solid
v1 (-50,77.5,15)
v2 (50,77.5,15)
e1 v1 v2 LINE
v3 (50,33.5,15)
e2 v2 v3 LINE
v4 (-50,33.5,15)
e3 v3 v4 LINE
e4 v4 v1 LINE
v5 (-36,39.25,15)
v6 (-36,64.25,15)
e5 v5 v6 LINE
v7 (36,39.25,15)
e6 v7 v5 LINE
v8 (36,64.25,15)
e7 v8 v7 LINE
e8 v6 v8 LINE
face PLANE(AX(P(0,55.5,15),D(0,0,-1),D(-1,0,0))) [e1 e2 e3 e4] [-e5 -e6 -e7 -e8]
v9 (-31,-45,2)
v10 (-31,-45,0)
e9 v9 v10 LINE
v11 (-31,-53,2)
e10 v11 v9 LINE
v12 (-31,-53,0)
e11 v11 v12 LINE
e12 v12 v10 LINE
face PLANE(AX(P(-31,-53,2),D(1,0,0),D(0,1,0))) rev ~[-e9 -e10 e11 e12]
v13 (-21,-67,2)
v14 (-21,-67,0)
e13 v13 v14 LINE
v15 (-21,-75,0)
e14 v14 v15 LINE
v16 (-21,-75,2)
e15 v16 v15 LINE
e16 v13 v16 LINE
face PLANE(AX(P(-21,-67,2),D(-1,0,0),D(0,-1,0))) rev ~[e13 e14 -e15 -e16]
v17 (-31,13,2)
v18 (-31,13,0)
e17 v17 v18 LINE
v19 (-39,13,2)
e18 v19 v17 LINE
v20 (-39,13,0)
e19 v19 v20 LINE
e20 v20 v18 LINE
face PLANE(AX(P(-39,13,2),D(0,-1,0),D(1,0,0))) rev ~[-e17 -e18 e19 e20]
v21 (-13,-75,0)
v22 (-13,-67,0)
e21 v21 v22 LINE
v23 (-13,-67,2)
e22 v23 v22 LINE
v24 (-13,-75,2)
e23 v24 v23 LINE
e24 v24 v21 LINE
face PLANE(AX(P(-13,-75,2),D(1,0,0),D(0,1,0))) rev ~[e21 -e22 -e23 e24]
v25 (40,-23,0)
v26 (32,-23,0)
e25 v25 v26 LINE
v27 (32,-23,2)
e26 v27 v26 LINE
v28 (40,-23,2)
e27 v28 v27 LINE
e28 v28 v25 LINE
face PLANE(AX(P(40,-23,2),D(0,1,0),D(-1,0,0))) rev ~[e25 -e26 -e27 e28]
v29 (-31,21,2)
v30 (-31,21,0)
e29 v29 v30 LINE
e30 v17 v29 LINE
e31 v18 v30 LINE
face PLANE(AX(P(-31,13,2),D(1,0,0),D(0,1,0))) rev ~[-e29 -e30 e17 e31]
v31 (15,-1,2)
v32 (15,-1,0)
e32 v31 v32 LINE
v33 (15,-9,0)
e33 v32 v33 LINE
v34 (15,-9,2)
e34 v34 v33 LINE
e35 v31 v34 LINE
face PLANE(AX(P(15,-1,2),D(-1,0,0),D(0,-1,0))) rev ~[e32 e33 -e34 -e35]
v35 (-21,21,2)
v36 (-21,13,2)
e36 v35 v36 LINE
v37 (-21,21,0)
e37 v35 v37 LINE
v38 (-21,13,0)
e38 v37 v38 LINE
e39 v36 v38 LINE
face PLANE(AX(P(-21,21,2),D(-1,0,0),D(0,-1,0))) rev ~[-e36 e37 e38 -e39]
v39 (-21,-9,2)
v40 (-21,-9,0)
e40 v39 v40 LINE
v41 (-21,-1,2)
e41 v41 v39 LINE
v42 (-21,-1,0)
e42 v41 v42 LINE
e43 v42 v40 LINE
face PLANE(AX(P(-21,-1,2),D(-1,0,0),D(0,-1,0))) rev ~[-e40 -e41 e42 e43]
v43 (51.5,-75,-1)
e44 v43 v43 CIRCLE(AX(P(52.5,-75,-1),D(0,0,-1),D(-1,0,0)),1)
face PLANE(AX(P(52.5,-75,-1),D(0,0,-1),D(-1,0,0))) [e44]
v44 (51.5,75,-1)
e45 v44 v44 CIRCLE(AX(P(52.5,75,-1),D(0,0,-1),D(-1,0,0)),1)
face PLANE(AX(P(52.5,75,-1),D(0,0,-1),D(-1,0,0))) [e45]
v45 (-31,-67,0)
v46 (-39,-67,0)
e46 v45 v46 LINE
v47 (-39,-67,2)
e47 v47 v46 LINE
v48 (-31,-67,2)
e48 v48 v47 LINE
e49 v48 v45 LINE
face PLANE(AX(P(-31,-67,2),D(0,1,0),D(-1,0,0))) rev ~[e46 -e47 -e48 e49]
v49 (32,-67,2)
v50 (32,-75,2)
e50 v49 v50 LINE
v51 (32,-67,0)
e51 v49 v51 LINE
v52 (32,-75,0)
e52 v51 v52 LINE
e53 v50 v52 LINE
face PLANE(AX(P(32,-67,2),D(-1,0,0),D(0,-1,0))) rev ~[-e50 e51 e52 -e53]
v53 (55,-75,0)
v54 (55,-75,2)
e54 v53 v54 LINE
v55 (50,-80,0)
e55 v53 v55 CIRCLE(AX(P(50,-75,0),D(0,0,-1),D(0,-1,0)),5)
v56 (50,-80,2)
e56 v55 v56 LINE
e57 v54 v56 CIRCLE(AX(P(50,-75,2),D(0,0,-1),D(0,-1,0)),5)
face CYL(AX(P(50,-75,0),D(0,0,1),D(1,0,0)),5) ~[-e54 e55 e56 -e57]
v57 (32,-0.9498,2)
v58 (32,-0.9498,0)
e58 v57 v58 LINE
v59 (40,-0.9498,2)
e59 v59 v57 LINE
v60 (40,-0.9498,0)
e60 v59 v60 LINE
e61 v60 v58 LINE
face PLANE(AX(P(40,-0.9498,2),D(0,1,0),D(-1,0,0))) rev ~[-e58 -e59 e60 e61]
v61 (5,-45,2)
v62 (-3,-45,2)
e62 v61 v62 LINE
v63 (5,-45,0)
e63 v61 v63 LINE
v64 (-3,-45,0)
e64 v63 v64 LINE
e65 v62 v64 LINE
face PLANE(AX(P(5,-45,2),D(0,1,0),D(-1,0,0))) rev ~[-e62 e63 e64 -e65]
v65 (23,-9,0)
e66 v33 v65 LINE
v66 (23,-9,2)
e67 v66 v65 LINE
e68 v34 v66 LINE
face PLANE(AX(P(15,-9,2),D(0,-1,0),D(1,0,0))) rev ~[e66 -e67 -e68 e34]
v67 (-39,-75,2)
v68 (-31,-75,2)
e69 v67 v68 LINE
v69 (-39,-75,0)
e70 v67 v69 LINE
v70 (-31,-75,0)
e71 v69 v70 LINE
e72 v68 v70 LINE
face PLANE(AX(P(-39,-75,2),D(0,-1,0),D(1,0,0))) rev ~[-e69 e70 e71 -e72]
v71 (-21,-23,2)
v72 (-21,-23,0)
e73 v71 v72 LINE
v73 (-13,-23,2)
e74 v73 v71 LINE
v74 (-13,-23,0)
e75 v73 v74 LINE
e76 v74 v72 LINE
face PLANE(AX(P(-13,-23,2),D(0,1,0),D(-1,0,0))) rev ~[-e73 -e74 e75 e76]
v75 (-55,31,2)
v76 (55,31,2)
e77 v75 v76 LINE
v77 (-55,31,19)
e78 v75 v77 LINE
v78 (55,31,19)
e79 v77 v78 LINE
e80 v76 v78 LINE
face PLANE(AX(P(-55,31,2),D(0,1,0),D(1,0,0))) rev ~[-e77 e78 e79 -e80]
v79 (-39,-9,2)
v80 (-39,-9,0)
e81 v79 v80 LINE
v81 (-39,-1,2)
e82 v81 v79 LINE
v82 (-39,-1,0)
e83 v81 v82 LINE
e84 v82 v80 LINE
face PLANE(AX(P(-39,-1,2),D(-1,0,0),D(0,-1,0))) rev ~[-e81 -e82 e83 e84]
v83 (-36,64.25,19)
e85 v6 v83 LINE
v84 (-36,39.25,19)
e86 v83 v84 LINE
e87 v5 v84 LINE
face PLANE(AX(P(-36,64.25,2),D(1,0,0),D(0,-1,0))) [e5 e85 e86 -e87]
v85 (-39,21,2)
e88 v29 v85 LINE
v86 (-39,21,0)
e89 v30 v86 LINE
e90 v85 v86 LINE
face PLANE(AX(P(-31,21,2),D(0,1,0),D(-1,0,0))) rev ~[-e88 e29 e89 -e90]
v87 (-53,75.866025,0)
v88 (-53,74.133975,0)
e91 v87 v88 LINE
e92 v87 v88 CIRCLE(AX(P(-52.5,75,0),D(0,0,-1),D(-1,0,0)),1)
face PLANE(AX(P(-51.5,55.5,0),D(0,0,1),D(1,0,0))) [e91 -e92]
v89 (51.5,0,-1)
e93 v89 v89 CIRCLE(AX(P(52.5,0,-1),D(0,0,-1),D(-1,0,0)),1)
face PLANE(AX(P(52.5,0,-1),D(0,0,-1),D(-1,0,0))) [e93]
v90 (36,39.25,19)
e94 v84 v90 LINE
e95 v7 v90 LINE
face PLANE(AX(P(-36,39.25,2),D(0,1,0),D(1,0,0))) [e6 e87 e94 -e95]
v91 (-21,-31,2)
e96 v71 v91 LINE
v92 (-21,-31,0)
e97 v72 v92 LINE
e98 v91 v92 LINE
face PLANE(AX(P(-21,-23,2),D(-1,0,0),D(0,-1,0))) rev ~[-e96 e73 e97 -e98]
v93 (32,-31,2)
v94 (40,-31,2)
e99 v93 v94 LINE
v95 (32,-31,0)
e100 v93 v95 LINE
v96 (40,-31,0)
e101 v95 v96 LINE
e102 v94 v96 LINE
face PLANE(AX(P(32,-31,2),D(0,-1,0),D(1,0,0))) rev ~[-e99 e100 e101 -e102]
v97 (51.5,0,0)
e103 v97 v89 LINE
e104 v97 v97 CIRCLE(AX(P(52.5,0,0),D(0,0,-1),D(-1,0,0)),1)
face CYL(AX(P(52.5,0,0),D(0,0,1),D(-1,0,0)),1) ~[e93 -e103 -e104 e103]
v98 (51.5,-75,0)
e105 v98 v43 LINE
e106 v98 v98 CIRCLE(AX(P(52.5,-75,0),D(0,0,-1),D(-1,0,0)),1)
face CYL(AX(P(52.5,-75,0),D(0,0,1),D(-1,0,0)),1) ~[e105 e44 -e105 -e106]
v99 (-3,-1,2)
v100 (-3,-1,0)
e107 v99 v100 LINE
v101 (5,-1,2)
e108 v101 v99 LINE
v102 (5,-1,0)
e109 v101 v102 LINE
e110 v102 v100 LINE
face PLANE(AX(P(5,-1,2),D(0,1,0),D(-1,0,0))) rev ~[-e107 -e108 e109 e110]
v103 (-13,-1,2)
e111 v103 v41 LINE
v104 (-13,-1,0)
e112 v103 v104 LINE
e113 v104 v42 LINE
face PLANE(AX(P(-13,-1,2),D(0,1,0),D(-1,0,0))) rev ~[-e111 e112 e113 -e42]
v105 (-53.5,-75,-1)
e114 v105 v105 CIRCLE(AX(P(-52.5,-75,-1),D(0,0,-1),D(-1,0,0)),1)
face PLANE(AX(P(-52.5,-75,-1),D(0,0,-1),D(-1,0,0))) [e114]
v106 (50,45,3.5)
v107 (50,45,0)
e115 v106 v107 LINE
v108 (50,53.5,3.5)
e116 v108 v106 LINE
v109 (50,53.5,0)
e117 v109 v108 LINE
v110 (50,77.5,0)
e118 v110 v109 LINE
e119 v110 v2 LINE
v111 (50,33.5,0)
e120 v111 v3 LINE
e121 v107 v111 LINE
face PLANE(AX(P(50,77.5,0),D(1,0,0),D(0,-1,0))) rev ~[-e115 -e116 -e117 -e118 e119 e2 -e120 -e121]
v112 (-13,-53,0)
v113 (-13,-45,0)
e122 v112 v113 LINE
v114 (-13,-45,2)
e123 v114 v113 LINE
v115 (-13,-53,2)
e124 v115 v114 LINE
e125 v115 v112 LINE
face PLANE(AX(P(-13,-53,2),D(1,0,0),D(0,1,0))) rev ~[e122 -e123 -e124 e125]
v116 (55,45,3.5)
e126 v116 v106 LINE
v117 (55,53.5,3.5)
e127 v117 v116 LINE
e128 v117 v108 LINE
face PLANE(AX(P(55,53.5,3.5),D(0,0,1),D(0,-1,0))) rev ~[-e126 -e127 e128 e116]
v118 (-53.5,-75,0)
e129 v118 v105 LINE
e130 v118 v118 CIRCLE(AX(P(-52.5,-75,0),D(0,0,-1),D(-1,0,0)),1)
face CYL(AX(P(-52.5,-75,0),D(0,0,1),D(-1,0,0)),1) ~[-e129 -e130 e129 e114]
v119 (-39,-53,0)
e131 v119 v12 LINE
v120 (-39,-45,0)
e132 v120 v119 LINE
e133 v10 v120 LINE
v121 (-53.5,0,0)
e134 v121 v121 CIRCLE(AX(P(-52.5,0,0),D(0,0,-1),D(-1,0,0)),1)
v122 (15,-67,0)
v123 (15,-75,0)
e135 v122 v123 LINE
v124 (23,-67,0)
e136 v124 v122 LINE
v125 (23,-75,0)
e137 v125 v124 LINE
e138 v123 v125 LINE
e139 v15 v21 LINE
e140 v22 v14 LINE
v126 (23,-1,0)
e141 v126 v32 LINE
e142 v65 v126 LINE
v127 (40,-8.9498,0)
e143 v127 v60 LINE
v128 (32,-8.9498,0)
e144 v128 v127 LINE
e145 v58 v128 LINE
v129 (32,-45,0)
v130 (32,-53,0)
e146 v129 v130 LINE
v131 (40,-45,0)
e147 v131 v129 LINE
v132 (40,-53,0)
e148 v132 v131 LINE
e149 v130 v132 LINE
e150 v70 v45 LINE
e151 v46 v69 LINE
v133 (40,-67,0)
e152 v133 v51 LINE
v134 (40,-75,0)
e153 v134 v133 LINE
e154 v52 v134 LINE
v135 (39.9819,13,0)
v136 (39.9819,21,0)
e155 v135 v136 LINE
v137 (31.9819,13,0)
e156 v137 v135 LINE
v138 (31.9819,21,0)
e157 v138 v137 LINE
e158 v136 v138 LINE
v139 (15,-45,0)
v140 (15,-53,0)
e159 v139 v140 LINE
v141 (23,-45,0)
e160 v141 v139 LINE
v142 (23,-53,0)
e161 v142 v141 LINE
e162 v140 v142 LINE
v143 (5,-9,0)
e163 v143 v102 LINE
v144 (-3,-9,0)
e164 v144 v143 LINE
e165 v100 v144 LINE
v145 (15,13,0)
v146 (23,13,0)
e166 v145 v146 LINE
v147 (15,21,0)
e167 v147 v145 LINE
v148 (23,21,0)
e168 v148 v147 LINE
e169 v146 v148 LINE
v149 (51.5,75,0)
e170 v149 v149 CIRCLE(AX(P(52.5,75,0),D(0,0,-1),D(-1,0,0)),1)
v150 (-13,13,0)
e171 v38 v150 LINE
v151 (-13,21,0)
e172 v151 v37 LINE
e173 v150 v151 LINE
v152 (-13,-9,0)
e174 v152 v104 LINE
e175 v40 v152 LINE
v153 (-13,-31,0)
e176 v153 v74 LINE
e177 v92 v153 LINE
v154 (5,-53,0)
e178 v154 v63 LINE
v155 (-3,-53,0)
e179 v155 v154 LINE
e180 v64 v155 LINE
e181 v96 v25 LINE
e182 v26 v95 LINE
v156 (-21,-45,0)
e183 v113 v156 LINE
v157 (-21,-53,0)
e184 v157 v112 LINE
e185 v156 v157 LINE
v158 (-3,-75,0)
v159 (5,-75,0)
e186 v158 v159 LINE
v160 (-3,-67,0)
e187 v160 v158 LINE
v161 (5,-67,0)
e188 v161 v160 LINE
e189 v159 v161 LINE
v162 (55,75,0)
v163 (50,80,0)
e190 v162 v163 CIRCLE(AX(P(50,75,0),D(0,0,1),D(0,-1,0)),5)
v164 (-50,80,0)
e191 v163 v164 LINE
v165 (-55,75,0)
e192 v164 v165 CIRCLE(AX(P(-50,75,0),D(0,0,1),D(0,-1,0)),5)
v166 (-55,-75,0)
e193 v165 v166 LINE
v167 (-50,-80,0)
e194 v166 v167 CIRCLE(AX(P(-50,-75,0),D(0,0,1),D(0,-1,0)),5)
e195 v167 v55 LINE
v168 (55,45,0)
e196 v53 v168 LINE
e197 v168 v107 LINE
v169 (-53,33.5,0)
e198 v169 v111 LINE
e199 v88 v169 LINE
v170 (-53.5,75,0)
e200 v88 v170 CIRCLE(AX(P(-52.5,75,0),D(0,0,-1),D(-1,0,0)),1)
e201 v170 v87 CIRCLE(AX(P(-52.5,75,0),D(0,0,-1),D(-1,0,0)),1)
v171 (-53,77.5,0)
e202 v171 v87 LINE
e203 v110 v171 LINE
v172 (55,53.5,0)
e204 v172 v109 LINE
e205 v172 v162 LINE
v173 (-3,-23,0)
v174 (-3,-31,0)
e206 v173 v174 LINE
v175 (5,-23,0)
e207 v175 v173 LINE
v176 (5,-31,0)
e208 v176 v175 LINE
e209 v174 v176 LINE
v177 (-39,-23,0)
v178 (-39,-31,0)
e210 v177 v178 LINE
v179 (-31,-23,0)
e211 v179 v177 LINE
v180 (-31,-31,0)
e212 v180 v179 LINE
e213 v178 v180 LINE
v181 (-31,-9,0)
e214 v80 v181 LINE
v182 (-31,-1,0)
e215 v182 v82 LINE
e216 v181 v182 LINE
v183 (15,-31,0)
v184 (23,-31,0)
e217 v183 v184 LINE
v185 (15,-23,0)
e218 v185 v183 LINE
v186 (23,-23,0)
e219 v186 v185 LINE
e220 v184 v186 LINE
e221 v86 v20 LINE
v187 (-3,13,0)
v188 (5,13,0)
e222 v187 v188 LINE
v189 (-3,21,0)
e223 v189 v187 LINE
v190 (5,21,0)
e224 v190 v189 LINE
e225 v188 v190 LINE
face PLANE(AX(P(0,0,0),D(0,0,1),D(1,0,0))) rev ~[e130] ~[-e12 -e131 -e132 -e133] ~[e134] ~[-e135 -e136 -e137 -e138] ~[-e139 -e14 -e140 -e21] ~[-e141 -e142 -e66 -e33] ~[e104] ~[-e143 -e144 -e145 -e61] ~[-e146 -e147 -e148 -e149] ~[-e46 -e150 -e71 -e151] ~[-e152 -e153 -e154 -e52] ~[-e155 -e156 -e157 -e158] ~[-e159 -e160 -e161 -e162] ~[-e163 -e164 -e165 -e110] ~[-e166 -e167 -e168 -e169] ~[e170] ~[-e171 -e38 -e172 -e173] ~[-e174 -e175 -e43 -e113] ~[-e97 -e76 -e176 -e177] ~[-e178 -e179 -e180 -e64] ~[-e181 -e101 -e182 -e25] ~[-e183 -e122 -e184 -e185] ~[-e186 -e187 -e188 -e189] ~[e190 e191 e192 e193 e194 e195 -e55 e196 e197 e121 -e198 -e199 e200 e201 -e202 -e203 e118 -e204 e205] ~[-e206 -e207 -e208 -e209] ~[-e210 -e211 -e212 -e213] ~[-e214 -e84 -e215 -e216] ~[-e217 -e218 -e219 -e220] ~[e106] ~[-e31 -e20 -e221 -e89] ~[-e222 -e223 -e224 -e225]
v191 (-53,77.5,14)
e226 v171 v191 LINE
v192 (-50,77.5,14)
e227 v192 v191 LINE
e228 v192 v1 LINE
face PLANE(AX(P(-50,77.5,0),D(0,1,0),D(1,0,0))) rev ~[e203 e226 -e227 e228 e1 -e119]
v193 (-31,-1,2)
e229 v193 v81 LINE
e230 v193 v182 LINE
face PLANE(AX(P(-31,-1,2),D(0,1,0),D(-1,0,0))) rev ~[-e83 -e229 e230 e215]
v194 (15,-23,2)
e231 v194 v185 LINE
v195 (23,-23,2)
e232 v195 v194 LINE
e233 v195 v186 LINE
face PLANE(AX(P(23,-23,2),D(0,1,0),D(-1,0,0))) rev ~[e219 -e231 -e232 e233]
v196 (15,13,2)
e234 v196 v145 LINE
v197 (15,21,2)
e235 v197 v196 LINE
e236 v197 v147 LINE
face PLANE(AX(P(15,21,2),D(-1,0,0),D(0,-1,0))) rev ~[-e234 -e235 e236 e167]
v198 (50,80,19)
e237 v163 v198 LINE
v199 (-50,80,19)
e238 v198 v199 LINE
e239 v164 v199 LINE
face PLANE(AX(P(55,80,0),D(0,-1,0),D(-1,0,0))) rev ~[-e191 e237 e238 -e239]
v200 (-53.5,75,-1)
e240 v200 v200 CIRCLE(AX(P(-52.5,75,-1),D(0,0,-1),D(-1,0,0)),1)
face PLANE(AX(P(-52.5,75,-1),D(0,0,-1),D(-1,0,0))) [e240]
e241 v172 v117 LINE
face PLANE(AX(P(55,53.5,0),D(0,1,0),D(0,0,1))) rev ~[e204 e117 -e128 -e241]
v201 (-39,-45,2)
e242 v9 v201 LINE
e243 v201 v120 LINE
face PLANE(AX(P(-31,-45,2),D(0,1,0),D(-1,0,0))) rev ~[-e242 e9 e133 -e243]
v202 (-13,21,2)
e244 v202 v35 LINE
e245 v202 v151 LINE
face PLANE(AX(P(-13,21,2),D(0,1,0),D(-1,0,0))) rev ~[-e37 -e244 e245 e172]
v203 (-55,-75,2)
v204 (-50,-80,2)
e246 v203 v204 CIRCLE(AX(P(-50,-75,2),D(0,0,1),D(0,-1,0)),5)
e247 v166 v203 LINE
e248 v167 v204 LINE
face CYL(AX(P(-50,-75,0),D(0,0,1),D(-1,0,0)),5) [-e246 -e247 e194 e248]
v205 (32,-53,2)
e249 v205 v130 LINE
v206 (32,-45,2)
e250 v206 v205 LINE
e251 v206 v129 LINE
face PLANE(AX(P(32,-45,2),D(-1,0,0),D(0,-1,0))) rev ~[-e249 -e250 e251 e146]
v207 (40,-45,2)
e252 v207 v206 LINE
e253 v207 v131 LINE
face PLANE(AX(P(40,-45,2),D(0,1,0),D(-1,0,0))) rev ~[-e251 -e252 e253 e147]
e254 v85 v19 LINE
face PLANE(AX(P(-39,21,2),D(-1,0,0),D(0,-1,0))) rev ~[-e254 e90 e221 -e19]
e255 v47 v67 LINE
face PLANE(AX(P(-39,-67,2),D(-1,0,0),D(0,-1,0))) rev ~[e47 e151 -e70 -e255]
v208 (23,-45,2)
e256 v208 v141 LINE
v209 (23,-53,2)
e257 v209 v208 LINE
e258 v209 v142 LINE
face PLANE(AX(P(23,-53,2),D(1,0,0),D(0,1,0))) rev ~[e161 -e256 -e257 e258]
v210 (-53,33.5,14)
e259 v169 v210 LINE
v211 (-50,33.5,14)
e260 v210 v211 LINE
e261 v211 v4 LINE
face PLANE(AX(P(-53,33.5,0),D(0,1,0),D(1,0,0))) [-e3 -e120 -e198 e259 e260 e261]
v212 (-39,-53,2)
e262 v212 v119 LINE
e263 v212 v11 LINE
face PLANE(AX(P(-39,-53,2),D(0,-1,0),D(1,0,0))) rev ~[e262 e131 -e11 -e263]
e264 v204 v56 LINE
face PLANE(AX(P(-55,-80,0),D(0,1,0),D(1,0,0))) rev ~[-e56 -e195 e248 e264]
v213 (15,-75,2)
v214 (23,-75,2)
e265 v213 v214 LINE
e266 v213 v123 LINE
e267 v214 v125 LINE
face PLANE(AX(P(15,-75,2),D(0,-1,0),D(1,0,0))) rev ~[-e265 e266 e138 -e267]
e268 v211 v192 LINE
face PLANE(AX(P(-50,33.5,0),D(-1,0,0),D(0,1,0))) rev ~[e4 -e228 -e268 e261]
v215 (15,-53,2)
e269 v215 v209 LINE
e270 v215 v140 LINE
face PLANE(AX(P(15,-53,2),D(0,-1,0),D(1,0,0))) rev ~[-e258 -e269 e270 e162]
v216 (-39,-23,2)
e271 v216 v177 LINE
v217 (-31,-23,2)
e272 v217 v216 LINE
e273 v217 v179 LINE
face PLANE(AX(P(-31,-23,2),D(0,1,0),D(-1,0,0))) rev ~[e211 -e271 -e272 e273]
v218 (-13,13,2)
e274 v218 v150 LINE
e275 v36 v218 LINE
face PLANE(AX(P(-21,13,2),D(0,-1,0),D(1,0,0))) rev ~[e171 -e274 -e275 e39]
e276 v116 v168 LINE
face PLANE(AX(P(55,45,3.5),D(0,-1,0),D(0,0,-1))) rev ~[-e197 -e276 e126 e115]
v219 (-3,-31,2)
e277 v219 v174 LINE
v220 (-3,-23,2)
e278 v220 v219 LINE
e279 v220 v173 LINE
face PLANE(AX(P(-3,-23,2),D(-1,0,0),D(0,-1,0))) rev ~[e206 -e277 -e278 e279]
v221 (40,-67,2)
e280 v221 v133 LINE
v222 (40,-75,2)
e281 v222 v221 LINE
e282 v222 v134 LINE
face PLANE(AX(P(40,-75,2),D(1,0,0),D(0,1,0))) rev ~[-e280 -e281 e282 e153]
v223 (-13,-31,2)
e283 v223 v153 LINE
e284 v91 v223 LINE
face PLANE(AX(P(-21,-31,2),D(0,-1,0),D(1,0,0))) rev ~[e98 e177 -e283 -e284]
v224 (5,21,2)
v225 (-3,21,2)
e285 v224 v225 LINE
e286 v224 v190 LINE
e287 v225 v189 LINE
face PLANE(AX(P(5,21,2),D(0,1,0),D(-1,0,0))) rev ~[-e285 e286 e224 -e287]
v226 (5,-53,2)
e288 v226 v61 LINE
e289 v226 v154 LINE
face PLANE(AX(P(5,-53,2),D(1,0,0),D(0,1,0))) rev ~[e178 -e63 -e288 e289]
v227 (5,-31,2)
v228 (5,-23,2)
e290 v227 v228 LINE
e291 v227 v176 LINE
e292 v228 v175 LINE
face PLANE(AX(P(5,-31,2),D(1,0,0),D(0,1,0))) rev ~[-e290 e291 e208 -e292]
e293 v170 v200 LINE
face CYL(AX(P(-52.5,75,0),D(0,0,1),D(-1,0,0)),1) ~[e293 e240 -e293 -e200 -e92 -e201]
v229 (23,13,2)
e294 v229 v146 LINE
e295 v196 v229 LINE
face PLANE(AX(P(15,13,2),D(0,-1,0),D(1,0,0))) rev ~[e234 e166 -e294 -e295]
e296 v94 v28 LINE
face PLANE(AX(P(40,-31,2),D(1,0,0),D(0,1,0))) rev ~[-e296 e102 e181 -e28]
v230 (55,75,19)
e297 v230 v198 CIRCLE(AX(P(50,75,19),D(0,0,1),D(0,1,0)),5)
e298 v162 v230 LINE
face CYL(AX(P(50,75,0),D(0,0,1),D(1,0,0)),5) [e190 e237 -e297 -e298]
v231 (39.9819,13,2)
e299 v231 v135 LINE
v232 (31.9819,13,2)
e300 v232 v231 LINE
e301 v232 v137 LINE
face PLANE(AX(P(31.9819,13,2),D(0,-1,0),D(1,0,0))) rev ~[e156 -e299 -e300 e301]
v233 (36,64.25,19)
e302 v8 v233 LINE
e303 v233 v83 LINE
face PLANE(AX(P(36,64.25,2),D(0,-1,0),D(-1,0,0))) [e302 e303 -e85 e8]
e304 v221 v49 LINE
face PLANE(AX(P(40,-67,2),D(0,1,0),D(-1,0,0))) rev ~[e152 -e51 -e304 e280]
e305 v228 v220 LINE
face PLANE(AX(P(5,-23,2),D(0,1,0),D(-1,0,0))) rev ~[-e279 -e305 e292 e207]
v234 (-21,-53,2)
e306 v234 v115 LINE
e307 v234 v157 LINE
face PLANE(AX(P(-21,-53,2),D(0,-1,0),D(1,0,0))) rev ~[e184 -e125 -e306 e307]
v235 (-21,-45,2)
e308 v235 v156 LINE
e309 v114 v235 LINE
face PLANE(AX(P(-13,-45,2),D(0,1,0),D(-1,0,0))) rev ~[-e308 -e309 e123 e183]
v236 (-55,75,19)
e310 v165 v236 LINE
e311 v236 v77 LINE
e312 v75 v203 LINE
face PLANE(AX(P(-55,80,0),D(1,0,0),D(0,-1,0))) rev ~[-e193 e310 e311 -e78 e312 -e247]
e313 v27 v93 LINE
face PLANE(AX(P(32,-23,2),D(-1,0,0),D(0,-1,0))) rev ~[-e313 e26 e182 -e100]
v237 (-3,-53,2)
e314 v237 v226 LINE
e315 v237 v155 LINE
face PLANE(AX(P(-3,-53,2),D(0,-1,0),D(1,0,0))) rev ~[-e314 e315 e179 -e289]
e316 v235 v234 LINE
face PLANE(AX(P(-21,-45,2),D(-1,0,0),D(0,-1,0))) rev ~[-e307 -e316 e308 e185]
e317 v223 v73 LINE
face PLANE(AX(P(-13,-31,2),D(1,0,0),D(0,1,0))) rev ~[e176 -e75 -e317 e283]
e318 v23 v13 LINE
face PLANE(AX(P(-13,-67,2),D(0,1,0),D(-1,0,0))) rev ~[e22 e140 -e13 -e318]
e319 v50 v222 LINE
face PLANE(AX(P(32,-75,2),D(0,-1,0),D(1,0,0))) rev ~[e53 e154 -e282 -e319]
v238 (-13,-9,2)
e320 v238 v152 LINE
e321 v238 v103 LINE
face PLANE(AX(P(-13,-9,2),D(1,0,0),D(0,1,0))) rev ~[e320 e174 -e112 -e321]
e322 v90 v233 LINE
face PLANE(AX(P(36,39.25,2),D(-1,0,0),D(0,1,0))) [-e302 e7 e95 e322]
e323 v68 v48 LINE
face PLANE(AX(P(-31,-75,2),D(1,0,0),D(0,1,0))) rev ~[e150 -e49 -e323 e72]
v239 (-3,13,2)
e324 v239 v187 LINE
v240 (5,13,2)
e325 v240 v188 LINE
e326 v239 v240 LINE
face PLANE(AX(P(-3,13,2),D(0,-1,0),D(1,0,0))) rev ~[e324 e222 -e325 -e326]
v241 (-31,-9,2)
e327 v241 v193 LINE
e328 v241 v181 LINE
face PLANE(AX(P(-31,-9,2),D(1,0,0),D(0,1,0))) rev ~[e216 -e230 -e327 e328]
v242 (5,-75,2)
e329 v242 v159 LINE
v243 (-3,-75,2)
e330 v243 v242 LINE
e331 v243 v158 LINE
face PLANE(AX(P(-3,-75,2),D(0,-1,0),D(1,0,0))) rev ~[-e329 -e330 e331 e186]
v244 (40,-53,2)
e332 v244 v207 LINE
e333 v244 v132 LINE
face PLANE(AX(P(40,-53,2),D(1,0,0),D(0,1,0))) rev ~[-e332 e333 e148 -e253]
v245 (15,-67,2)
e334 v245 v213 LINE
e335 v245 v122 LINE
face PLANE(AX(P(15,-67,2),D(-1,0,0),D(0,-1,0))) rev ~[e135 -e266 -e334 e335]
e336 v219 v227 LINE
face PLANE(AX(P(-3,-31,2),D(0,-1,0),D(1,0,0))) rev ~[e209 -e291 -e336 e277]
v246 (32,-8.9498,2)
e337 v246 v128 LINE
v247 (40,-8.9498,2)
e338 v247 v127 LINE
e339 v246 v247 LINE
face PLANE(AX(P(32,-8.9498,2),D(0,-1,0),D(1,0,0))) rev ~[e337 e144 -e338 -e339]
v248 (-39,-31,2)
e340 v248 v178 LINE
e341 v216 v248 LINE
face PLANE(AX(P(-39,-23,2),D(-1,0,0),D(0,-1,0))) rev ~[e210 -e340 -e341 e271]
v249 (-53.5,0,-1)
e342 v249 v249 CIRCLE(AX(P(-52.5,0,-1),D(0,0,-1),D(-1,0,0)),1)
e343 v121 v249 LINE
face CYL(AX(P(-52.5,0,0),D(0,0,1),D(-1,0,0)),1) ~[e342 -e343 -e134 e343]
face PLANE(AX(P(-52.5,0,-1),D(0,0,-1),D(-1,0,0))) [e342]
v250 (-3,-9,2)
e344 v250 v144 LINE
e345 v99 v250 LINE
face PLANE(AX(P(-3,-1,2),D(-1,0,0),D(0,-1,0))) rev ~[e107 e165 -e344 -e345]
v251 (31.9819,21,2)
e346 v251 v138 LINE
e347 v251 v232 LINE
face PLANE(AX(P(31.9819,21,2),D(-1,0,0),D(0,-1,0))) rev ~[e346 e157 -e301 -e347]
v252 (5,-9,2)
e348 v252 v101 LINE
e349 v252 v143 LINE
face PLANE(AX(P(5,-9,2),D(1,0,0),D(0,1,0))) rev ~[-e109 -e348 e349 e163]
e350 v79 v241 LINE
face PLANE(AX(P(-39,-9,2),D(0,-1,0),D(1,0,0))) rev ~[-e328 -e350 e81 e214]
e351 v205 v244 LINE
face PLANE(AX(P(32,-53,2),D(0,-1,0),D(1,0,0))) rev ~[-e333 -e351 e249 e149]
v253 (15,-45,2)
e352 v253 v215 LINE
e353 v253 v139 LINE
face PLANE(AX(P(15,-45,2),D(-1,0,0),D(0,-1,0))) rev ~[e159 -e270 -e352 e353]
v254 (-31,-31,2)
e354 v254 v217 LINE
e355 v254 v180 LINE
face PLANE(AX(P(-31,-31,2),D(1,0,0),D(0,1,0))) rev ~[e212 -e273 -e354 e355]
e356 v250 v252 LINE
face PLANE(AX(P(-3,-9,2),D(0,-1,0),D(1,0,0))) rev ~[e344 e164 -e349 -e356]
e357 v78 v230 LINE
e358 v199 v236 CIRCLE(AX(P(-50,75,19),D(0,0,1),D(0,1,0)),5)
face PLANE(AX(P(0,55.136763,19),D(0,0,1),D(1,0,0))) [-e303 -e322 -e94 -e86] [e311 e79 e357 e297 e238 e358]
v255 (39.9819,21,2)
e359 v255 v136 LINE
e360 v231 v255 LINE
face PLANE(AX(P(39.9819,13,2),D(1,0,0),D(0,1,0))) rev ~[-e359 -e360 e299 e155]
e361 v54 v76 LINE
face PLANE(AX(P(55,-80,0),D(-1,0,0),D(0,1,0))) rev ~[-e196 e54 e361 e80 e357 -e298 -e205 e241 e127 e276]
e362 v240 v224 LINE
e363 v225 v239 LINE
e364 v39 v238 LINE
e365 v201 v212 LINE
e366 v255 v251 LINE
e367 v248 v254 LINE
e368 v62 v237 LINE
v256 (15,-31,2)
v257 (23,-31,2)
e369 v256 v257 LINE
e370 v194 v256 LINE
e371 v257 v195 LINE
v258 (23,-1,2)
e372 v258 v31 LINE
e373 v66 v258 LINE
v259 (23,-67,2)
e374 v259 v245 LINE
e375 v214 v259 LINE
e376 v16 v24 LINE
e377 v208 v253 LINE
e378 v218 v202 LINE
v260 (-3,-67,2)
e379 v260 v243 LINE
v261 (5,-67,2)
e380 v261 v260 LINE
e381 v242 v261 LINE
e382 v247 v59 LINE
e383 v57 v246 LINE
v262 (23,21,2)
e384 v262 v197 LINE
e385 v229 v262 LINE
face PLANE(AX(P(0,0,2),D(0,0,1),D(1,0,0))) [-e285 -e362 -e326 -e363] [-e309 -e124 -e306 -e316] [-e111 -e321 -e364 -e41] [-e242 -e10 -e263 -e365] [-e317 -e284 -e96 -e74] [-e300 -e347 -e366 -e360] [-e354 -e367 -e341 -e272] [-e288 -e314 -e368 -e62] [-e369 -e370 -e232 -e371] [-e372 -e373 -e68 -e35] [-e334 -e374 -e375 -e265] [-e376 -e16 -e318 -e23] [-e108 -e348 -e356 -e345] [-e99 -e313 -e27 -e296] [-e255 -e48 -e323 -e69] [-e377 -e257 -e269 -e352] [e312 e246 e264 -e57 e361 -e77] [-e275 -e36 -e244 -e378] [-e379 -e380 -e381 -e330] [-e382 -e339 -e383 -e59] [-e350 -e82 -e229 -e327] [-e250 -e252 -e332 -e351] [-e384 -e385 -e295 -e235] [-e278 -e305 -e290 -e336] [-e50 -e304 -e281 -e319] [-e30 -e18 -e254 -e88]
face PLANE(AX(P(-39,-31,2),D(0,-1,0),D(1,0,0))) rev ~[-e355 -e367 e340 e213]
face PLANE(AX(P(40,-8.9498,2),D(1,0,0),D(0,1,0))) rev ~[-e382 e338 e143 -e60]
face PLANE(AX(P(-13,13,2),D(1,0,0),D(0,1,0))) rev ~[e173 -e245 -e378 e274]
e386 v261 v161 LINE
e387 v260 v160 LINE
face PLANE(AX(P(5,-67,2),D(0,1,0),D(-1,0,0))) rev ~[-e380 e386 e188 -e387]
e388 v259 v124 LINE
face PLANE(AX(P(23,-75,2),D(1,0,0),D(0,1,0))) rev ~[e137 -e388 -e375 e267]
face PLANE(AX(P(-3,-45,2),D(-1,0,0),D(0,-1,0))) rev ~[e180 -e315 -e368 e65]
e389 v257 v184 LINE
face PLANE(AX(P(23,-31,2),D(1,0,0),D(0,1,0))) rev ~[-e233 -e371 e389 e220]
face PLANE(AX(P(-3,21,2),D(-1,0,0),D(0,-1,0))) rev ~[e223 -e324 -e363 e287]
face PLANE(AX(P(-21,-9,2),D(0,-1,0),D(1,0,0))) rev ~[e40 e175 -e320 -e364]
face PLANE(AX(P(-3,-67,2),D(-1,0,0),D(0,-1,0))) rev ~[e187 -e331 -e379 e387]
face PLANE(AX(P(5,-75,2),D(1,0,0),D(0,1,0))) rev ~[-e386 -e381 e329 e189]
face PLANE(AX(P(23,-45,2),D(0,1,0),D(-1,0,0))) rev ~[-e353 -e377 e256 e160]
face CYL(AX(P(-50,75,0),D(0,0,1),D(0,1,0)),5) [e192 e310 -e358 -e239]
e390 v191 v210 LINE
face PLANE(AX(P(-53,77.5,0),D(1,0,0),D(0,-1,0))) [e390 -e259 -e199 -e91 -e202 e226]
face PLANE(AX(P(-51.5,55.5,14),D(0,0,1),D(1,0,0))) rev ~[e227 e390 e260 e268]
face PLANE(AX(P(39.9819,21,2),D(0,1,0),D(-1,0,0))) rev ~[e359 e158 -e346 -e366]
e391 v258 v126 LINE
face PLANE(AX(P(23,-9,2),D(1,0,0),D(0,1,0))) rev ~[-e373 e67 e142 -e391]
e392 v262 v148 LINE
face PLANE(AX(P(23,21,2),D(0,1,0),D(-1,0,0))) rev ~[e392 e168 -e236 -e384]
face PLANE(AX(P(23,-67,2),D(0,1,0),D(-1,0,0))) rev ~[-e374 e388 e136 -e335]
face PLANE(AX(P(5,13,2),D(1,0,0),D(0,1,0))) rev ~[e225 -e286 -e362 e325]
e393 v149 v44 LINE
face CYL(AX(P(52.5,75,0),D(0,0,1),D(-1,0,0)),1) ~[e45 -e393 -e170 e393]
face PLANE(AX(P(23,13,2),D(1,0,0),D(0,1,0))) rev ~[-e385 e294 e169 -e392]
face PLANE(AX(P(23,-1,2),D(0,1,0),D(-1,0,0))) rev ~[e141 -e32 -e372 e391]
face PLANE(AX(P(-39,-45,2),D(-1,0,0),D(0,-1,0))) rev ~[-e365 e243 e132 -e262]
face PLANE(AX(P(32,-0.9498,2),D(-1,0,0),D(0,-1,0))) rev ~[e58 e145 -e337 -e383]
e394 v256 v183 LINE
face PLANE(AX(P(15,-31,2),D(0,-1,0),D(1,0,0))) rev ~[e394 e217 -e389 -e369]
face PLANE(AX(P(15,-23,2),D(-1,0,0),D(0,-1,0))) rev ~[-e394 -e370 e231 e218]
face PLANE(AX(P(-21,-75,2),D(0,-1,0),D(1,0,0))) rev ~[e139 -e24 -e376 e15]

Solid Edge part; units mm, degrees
sketch "Sketch1" plane through (0, 0, 0) normal (0, 0, 1) x (1, 0, 0)
  line L0 (55, -80) -> (55, 80)
  line L1 (55, 80) -> (-55, 80)
  line L2 (-55, 80) -> (-55, -80)
  line L3 (-55, -80) -> (55, -80)
extrude "ExtrudedProtrusion_1" add sketch "Sketch1" along normal blind 2
fillet "Round_1" radius 5 4 edges at (55, -80, 1) (55, 80, 1) (-55, -80, 1) (-55, 80, 1)
sketch "Sketch2" plane through (0, 0, 2) normal (0, 0, 1) x (0, 1, 0)
  line L0 (64.25, 36) -> (39.25, 36)
  line L1 (39.25, 36) -> (39.25, -36)
  line L2 (39.25, -36) -> (64.25, -36)
  line L3 (64.25, -36) -> (64.25, 36)
  line L4 (75, 55) -> (31, 55)
  line L5 (31, 55) -> (31, -55)
  line L6 (31, -55) -> (75, -55)
  arc A0 (75, -55) -> (80, -50) centre (75, -50) ccw
  line L7 (80, -50) -> (80, 50)
  arc A1 (80, 50) -> (75, 55) centre (75, 50) ccw
extrude "ExtrudedProtrusion_2" add sketch "Sketch2" along normal blind 17
sketch "Sketch3" plane through (0, 0, 0) normal (0, 0, -1) x (-1, 0, 0)
  line L0 (50, 77.5) -> (-50, 77.5)
  line L1 (-50, 77.5) -> (-50, 33.5)
  line L2 (-50, 33.5) -> (50, 33.5)
  line L3 (50, 33.5) -> (50, 77.5)
extrude "ExtrudedCutout_1" cut sketch "Sketch3" against normal blind 15
sketch "Sketch4" plane through (0, -24.5, 2) normal (0, 0, 1) x (1, 0, 0)
  line L0 (-31, 37.5) -> (-31, 45.5)
  line L1 (-31, 45.5) -> (-39, 45.5)
  line L2 (-39, 45.5) -> (-39, 37.5)
  line L3 (-39, 37.5) -> (-31, 37.5)
  line L4 (-13, 45.5) -> (-21, 45.5)
  line L5 (-21, 45.5) -> (-21, 37.5)
  line L6 (-21, 37.5) -> (-13, 37.5)
  line L7 (-13, 37.5) -> (-13, 45.5)
  line L8 (5, 45.5) -> (-3, 45.5)
  line L9 (-3, 45.5) -> (-3, 37.5)
  line L10 (-3, 37.5) -> (5, 37.5)
  line L11 (5, 37.5) -> (5, 45.5)
  line L12 (23, 45.5) -> (15, 45.5)
  line L13 (15, 45.5) -> (15, 37.5)
  line L14 (15, 37.5) -> (23, 37.5)
  line L15 (23, 37.5) -> (23, 45.5)
  line L16 (39.9819, 45.5) -> (31.9819, 45.5)
  line L17 (31.9819, 45.5) -> (31.9819, 37.5)
  line L18 (31.9819, 37.5) -> (39.9819, 37.5)
  line L19 (39.9819, 37.5) -> (39.9819, 45.5)
  line L20 (40, 23.5502) -> (32, 23.5502)
  line L21 (32, 23.5502) -> (32, 15.5502)
  line L22 (32, 15.5502) -> (40, 15.5502)
  line L23 (40, 15.5502) -> (40, 23.5502)
  line L24 (23, 23.5) -> (15, 23.5)
  line L25 (15, 23.5) -> (15, 15.5)
  line L26 (15, 15.5) -> (23, 15.5)
  line L27 (23, 15.5) -> (23, 23.5)
  line L28 (5, 23.5) -> (-3, 23.5)
  line L29 (-3, 23.5) -> (-3, 15.5)
  line L30 (-3, 15.5) -> (5, 15.5)
  line L31 (5, 15.5) -> (5, 23.5)
  line L32 (-13, 23.5) -> (-21, 23.5)
  line L33 (-21, 23.5) -> (-21, 15.5)
  line L34 (-21, 15.5) -> (-13, 15.5)
  line L35 (-13, 15.5) -> (-13, 23.5)
  line L36 (-31, 23.5) -> (-39, 23.5)
  line L37 (-39, 23.5) -> (-39, 15.5)
  line L38 (-39, 15.5) -> (-31, 15.5)
  line L39 (-31, 15.5) -> (-31, 23.5)
  line L40 (-31, 1.5) -> (-39, 1.5)
  line L41 (-39, 1.5) -> (-39, -6.5)
  line L42 (-39, -6.5) -> (-31, -6.5)
  line L43 (-31, -6.5) -> (-31, 1.5)
  line L44 (-13, 1.5) -> (-21, 1.5)
  line L45 (-21, 1.5) -> (-21, -6.5)
  line L46 (-21, -6.5) -> (-13, -6.5)
  line L47 (-13, -6.5) -> (-13, 1.5)
  line L48 (5, 1.5) -> (-3, 1.5)
  line L49 (-3, 1.5) -> (-3, -6.5)
  line L50 (-3, -6.5) -> (5, -6.5)
  line L51 (5, -6.5) -> (5, 1.5)
  line L52 (23, 1.5) -> (15, 1.5)
  line L53 (15, 1.5) -> (15, -6.5)
  line L54 (15, -6.5) -> (23, -6.5)
  line L55 (23, -6.5) -> (23, 1.5)
  line L56 (40, 1.5) -> (32, 1.5)
  line L57 (32, 1.5) -> (32, -6.5)
  line L58 (32, -6.5) -> (40, -6.5)
  line L59 (40, -6.5) -> (40, 1.5)
  line L60 (40, -20.5) -> (32, -20.5)
  line L61 (32, -20.5) -> (32, -28.5)
  line L62 (32, -28.5) -> (40, -28.5)
  line L63 (40, -28.5) -> (40, -20.5)
  line L64 (23, -20.5) -> (15, -20.5)
  line L65 (15, -20.5) -> (15, -28.5)
  line L66 (15, -28.5) -> (23, -28.5)
  line L67 (23, -28.5) -> (23, -20.5)
  line L68 (5, -28.5) -> (5, -20.5)
  line L69 (5, -20.5) -> (-3, -20.5)
  line L70 (-3, -20.5) -> (-3, -28.5)
  line L71 (-3, -28.5) -> (5, -28.5)
  line L72 (-13, -28.5) -> (-13, -20.5)
  line L73 (-13, -20.5) -> (-21, -20.5)
  line L74 (-21, -20.5) -> (-21, -28.5)
  line L75 (-21, -28.5) -> (-13, -28.5)
  line L76 (-31, -20.5) -> (-39, -20.5)
  line L77 (-39, -20.5) -> (-39, -28.5)
  line L78 (-39, -28.5) -> (-31, -28.5)
  line L79 (-31, -28.5) -> (-31, -20.5)
  line L80 (-31, -42.5) -> (-39, -42.5)
  line L81 (-39, -42.5) -> (-39, -50.5)
  line L82 (-39, -50.5) -> (-31, -50.5)
  line L83 (-31, -50.5) -> (-31, -42.5)
  line L84 (-13, -42.5) -> (-21, -42.5)
  line L85 (-21, -42.5) -> (-21, -50.5)
  line L86 (-21, -50.5) -> (-13, -50.5)
  line L87 (-13, -50.5) -> (-13, -42.5)
  line L88 (5, -42.5) -> (-3, -42.5)
  line L89 (-3, -42.5) -> (-3, -50.5)
  line L90 (-3, -50.5) -> (5, -50.5)
  line L91 (5, -50.5) -> (5, -42.5)
  line L92 (23, -42.5) -> (15, -42.5)
  line L93 (15, -42.5) -> (15, -50.5)
  line L94 (15, -50.5) -> (23, -50.5)
  line L95 (23, -50.5) -> (23, -42.5)
  line L96 (40, -50.5) -> (40, -42.5)
  line L97 (40, -42.5) -> (32, -42.5)
  line L98 (32, -42.5) -> (32, -50.5)
  line L99 (32, -50.5) -> (40, -50.5)
extrude "Cutout1" cut sketch "Sketch4" against normal blind 4
sketch "Sketch5" plane through (55, 0, 8) normal (1, 0, 0) x (0, -1, 0)
  line L0 (-53.5, 8) -> (-45, 8)
  line L1 (-45, 4.5) -> (-45, 8)
  line L2 (-53.5, 4.5) -> (-45, 4.5)
  line L3 (-53.5, 8) -> (-53.5, 4.5)
extrude "Cutout2" cut sketch "Sketch5" against normal blind 5.0662
sketch "Sketch6" plane through (0, 0, 0) normal (0, 0, -1) x (-1, 0, 0)
  circle A0 centre (-52.5, 75) radius 1
  circle A1 centre (52.5, 75) radius 1
  circle A2 centre (52.5, 0) radius 1
  circle A3 centre (-52.5, 0) radius 1
  circle A4 centre (-52.5, -75) radius 1
  circle A5 centre (52.5, -75) radius 1
extrude "ExtrudedProtrusion_3" add sketch "Sketch6" along normal blind 1
sketch "Sketch7" plane through (0, 0, 0) normal (0, 0, -1) x (-1, 0, 0)
  line L0 (50, 33.5) -> (50, 77.5)
  line L1 (50, 77.5) -> (53, 77.5)
  line L2 (53, 77.5) -> (53, 33.5)
  line L3 (53, 33.5) -> (50, 33.5)
extrude "ExtrudedCutout_5" cut sketch "Sketch7" against normal blind 14
